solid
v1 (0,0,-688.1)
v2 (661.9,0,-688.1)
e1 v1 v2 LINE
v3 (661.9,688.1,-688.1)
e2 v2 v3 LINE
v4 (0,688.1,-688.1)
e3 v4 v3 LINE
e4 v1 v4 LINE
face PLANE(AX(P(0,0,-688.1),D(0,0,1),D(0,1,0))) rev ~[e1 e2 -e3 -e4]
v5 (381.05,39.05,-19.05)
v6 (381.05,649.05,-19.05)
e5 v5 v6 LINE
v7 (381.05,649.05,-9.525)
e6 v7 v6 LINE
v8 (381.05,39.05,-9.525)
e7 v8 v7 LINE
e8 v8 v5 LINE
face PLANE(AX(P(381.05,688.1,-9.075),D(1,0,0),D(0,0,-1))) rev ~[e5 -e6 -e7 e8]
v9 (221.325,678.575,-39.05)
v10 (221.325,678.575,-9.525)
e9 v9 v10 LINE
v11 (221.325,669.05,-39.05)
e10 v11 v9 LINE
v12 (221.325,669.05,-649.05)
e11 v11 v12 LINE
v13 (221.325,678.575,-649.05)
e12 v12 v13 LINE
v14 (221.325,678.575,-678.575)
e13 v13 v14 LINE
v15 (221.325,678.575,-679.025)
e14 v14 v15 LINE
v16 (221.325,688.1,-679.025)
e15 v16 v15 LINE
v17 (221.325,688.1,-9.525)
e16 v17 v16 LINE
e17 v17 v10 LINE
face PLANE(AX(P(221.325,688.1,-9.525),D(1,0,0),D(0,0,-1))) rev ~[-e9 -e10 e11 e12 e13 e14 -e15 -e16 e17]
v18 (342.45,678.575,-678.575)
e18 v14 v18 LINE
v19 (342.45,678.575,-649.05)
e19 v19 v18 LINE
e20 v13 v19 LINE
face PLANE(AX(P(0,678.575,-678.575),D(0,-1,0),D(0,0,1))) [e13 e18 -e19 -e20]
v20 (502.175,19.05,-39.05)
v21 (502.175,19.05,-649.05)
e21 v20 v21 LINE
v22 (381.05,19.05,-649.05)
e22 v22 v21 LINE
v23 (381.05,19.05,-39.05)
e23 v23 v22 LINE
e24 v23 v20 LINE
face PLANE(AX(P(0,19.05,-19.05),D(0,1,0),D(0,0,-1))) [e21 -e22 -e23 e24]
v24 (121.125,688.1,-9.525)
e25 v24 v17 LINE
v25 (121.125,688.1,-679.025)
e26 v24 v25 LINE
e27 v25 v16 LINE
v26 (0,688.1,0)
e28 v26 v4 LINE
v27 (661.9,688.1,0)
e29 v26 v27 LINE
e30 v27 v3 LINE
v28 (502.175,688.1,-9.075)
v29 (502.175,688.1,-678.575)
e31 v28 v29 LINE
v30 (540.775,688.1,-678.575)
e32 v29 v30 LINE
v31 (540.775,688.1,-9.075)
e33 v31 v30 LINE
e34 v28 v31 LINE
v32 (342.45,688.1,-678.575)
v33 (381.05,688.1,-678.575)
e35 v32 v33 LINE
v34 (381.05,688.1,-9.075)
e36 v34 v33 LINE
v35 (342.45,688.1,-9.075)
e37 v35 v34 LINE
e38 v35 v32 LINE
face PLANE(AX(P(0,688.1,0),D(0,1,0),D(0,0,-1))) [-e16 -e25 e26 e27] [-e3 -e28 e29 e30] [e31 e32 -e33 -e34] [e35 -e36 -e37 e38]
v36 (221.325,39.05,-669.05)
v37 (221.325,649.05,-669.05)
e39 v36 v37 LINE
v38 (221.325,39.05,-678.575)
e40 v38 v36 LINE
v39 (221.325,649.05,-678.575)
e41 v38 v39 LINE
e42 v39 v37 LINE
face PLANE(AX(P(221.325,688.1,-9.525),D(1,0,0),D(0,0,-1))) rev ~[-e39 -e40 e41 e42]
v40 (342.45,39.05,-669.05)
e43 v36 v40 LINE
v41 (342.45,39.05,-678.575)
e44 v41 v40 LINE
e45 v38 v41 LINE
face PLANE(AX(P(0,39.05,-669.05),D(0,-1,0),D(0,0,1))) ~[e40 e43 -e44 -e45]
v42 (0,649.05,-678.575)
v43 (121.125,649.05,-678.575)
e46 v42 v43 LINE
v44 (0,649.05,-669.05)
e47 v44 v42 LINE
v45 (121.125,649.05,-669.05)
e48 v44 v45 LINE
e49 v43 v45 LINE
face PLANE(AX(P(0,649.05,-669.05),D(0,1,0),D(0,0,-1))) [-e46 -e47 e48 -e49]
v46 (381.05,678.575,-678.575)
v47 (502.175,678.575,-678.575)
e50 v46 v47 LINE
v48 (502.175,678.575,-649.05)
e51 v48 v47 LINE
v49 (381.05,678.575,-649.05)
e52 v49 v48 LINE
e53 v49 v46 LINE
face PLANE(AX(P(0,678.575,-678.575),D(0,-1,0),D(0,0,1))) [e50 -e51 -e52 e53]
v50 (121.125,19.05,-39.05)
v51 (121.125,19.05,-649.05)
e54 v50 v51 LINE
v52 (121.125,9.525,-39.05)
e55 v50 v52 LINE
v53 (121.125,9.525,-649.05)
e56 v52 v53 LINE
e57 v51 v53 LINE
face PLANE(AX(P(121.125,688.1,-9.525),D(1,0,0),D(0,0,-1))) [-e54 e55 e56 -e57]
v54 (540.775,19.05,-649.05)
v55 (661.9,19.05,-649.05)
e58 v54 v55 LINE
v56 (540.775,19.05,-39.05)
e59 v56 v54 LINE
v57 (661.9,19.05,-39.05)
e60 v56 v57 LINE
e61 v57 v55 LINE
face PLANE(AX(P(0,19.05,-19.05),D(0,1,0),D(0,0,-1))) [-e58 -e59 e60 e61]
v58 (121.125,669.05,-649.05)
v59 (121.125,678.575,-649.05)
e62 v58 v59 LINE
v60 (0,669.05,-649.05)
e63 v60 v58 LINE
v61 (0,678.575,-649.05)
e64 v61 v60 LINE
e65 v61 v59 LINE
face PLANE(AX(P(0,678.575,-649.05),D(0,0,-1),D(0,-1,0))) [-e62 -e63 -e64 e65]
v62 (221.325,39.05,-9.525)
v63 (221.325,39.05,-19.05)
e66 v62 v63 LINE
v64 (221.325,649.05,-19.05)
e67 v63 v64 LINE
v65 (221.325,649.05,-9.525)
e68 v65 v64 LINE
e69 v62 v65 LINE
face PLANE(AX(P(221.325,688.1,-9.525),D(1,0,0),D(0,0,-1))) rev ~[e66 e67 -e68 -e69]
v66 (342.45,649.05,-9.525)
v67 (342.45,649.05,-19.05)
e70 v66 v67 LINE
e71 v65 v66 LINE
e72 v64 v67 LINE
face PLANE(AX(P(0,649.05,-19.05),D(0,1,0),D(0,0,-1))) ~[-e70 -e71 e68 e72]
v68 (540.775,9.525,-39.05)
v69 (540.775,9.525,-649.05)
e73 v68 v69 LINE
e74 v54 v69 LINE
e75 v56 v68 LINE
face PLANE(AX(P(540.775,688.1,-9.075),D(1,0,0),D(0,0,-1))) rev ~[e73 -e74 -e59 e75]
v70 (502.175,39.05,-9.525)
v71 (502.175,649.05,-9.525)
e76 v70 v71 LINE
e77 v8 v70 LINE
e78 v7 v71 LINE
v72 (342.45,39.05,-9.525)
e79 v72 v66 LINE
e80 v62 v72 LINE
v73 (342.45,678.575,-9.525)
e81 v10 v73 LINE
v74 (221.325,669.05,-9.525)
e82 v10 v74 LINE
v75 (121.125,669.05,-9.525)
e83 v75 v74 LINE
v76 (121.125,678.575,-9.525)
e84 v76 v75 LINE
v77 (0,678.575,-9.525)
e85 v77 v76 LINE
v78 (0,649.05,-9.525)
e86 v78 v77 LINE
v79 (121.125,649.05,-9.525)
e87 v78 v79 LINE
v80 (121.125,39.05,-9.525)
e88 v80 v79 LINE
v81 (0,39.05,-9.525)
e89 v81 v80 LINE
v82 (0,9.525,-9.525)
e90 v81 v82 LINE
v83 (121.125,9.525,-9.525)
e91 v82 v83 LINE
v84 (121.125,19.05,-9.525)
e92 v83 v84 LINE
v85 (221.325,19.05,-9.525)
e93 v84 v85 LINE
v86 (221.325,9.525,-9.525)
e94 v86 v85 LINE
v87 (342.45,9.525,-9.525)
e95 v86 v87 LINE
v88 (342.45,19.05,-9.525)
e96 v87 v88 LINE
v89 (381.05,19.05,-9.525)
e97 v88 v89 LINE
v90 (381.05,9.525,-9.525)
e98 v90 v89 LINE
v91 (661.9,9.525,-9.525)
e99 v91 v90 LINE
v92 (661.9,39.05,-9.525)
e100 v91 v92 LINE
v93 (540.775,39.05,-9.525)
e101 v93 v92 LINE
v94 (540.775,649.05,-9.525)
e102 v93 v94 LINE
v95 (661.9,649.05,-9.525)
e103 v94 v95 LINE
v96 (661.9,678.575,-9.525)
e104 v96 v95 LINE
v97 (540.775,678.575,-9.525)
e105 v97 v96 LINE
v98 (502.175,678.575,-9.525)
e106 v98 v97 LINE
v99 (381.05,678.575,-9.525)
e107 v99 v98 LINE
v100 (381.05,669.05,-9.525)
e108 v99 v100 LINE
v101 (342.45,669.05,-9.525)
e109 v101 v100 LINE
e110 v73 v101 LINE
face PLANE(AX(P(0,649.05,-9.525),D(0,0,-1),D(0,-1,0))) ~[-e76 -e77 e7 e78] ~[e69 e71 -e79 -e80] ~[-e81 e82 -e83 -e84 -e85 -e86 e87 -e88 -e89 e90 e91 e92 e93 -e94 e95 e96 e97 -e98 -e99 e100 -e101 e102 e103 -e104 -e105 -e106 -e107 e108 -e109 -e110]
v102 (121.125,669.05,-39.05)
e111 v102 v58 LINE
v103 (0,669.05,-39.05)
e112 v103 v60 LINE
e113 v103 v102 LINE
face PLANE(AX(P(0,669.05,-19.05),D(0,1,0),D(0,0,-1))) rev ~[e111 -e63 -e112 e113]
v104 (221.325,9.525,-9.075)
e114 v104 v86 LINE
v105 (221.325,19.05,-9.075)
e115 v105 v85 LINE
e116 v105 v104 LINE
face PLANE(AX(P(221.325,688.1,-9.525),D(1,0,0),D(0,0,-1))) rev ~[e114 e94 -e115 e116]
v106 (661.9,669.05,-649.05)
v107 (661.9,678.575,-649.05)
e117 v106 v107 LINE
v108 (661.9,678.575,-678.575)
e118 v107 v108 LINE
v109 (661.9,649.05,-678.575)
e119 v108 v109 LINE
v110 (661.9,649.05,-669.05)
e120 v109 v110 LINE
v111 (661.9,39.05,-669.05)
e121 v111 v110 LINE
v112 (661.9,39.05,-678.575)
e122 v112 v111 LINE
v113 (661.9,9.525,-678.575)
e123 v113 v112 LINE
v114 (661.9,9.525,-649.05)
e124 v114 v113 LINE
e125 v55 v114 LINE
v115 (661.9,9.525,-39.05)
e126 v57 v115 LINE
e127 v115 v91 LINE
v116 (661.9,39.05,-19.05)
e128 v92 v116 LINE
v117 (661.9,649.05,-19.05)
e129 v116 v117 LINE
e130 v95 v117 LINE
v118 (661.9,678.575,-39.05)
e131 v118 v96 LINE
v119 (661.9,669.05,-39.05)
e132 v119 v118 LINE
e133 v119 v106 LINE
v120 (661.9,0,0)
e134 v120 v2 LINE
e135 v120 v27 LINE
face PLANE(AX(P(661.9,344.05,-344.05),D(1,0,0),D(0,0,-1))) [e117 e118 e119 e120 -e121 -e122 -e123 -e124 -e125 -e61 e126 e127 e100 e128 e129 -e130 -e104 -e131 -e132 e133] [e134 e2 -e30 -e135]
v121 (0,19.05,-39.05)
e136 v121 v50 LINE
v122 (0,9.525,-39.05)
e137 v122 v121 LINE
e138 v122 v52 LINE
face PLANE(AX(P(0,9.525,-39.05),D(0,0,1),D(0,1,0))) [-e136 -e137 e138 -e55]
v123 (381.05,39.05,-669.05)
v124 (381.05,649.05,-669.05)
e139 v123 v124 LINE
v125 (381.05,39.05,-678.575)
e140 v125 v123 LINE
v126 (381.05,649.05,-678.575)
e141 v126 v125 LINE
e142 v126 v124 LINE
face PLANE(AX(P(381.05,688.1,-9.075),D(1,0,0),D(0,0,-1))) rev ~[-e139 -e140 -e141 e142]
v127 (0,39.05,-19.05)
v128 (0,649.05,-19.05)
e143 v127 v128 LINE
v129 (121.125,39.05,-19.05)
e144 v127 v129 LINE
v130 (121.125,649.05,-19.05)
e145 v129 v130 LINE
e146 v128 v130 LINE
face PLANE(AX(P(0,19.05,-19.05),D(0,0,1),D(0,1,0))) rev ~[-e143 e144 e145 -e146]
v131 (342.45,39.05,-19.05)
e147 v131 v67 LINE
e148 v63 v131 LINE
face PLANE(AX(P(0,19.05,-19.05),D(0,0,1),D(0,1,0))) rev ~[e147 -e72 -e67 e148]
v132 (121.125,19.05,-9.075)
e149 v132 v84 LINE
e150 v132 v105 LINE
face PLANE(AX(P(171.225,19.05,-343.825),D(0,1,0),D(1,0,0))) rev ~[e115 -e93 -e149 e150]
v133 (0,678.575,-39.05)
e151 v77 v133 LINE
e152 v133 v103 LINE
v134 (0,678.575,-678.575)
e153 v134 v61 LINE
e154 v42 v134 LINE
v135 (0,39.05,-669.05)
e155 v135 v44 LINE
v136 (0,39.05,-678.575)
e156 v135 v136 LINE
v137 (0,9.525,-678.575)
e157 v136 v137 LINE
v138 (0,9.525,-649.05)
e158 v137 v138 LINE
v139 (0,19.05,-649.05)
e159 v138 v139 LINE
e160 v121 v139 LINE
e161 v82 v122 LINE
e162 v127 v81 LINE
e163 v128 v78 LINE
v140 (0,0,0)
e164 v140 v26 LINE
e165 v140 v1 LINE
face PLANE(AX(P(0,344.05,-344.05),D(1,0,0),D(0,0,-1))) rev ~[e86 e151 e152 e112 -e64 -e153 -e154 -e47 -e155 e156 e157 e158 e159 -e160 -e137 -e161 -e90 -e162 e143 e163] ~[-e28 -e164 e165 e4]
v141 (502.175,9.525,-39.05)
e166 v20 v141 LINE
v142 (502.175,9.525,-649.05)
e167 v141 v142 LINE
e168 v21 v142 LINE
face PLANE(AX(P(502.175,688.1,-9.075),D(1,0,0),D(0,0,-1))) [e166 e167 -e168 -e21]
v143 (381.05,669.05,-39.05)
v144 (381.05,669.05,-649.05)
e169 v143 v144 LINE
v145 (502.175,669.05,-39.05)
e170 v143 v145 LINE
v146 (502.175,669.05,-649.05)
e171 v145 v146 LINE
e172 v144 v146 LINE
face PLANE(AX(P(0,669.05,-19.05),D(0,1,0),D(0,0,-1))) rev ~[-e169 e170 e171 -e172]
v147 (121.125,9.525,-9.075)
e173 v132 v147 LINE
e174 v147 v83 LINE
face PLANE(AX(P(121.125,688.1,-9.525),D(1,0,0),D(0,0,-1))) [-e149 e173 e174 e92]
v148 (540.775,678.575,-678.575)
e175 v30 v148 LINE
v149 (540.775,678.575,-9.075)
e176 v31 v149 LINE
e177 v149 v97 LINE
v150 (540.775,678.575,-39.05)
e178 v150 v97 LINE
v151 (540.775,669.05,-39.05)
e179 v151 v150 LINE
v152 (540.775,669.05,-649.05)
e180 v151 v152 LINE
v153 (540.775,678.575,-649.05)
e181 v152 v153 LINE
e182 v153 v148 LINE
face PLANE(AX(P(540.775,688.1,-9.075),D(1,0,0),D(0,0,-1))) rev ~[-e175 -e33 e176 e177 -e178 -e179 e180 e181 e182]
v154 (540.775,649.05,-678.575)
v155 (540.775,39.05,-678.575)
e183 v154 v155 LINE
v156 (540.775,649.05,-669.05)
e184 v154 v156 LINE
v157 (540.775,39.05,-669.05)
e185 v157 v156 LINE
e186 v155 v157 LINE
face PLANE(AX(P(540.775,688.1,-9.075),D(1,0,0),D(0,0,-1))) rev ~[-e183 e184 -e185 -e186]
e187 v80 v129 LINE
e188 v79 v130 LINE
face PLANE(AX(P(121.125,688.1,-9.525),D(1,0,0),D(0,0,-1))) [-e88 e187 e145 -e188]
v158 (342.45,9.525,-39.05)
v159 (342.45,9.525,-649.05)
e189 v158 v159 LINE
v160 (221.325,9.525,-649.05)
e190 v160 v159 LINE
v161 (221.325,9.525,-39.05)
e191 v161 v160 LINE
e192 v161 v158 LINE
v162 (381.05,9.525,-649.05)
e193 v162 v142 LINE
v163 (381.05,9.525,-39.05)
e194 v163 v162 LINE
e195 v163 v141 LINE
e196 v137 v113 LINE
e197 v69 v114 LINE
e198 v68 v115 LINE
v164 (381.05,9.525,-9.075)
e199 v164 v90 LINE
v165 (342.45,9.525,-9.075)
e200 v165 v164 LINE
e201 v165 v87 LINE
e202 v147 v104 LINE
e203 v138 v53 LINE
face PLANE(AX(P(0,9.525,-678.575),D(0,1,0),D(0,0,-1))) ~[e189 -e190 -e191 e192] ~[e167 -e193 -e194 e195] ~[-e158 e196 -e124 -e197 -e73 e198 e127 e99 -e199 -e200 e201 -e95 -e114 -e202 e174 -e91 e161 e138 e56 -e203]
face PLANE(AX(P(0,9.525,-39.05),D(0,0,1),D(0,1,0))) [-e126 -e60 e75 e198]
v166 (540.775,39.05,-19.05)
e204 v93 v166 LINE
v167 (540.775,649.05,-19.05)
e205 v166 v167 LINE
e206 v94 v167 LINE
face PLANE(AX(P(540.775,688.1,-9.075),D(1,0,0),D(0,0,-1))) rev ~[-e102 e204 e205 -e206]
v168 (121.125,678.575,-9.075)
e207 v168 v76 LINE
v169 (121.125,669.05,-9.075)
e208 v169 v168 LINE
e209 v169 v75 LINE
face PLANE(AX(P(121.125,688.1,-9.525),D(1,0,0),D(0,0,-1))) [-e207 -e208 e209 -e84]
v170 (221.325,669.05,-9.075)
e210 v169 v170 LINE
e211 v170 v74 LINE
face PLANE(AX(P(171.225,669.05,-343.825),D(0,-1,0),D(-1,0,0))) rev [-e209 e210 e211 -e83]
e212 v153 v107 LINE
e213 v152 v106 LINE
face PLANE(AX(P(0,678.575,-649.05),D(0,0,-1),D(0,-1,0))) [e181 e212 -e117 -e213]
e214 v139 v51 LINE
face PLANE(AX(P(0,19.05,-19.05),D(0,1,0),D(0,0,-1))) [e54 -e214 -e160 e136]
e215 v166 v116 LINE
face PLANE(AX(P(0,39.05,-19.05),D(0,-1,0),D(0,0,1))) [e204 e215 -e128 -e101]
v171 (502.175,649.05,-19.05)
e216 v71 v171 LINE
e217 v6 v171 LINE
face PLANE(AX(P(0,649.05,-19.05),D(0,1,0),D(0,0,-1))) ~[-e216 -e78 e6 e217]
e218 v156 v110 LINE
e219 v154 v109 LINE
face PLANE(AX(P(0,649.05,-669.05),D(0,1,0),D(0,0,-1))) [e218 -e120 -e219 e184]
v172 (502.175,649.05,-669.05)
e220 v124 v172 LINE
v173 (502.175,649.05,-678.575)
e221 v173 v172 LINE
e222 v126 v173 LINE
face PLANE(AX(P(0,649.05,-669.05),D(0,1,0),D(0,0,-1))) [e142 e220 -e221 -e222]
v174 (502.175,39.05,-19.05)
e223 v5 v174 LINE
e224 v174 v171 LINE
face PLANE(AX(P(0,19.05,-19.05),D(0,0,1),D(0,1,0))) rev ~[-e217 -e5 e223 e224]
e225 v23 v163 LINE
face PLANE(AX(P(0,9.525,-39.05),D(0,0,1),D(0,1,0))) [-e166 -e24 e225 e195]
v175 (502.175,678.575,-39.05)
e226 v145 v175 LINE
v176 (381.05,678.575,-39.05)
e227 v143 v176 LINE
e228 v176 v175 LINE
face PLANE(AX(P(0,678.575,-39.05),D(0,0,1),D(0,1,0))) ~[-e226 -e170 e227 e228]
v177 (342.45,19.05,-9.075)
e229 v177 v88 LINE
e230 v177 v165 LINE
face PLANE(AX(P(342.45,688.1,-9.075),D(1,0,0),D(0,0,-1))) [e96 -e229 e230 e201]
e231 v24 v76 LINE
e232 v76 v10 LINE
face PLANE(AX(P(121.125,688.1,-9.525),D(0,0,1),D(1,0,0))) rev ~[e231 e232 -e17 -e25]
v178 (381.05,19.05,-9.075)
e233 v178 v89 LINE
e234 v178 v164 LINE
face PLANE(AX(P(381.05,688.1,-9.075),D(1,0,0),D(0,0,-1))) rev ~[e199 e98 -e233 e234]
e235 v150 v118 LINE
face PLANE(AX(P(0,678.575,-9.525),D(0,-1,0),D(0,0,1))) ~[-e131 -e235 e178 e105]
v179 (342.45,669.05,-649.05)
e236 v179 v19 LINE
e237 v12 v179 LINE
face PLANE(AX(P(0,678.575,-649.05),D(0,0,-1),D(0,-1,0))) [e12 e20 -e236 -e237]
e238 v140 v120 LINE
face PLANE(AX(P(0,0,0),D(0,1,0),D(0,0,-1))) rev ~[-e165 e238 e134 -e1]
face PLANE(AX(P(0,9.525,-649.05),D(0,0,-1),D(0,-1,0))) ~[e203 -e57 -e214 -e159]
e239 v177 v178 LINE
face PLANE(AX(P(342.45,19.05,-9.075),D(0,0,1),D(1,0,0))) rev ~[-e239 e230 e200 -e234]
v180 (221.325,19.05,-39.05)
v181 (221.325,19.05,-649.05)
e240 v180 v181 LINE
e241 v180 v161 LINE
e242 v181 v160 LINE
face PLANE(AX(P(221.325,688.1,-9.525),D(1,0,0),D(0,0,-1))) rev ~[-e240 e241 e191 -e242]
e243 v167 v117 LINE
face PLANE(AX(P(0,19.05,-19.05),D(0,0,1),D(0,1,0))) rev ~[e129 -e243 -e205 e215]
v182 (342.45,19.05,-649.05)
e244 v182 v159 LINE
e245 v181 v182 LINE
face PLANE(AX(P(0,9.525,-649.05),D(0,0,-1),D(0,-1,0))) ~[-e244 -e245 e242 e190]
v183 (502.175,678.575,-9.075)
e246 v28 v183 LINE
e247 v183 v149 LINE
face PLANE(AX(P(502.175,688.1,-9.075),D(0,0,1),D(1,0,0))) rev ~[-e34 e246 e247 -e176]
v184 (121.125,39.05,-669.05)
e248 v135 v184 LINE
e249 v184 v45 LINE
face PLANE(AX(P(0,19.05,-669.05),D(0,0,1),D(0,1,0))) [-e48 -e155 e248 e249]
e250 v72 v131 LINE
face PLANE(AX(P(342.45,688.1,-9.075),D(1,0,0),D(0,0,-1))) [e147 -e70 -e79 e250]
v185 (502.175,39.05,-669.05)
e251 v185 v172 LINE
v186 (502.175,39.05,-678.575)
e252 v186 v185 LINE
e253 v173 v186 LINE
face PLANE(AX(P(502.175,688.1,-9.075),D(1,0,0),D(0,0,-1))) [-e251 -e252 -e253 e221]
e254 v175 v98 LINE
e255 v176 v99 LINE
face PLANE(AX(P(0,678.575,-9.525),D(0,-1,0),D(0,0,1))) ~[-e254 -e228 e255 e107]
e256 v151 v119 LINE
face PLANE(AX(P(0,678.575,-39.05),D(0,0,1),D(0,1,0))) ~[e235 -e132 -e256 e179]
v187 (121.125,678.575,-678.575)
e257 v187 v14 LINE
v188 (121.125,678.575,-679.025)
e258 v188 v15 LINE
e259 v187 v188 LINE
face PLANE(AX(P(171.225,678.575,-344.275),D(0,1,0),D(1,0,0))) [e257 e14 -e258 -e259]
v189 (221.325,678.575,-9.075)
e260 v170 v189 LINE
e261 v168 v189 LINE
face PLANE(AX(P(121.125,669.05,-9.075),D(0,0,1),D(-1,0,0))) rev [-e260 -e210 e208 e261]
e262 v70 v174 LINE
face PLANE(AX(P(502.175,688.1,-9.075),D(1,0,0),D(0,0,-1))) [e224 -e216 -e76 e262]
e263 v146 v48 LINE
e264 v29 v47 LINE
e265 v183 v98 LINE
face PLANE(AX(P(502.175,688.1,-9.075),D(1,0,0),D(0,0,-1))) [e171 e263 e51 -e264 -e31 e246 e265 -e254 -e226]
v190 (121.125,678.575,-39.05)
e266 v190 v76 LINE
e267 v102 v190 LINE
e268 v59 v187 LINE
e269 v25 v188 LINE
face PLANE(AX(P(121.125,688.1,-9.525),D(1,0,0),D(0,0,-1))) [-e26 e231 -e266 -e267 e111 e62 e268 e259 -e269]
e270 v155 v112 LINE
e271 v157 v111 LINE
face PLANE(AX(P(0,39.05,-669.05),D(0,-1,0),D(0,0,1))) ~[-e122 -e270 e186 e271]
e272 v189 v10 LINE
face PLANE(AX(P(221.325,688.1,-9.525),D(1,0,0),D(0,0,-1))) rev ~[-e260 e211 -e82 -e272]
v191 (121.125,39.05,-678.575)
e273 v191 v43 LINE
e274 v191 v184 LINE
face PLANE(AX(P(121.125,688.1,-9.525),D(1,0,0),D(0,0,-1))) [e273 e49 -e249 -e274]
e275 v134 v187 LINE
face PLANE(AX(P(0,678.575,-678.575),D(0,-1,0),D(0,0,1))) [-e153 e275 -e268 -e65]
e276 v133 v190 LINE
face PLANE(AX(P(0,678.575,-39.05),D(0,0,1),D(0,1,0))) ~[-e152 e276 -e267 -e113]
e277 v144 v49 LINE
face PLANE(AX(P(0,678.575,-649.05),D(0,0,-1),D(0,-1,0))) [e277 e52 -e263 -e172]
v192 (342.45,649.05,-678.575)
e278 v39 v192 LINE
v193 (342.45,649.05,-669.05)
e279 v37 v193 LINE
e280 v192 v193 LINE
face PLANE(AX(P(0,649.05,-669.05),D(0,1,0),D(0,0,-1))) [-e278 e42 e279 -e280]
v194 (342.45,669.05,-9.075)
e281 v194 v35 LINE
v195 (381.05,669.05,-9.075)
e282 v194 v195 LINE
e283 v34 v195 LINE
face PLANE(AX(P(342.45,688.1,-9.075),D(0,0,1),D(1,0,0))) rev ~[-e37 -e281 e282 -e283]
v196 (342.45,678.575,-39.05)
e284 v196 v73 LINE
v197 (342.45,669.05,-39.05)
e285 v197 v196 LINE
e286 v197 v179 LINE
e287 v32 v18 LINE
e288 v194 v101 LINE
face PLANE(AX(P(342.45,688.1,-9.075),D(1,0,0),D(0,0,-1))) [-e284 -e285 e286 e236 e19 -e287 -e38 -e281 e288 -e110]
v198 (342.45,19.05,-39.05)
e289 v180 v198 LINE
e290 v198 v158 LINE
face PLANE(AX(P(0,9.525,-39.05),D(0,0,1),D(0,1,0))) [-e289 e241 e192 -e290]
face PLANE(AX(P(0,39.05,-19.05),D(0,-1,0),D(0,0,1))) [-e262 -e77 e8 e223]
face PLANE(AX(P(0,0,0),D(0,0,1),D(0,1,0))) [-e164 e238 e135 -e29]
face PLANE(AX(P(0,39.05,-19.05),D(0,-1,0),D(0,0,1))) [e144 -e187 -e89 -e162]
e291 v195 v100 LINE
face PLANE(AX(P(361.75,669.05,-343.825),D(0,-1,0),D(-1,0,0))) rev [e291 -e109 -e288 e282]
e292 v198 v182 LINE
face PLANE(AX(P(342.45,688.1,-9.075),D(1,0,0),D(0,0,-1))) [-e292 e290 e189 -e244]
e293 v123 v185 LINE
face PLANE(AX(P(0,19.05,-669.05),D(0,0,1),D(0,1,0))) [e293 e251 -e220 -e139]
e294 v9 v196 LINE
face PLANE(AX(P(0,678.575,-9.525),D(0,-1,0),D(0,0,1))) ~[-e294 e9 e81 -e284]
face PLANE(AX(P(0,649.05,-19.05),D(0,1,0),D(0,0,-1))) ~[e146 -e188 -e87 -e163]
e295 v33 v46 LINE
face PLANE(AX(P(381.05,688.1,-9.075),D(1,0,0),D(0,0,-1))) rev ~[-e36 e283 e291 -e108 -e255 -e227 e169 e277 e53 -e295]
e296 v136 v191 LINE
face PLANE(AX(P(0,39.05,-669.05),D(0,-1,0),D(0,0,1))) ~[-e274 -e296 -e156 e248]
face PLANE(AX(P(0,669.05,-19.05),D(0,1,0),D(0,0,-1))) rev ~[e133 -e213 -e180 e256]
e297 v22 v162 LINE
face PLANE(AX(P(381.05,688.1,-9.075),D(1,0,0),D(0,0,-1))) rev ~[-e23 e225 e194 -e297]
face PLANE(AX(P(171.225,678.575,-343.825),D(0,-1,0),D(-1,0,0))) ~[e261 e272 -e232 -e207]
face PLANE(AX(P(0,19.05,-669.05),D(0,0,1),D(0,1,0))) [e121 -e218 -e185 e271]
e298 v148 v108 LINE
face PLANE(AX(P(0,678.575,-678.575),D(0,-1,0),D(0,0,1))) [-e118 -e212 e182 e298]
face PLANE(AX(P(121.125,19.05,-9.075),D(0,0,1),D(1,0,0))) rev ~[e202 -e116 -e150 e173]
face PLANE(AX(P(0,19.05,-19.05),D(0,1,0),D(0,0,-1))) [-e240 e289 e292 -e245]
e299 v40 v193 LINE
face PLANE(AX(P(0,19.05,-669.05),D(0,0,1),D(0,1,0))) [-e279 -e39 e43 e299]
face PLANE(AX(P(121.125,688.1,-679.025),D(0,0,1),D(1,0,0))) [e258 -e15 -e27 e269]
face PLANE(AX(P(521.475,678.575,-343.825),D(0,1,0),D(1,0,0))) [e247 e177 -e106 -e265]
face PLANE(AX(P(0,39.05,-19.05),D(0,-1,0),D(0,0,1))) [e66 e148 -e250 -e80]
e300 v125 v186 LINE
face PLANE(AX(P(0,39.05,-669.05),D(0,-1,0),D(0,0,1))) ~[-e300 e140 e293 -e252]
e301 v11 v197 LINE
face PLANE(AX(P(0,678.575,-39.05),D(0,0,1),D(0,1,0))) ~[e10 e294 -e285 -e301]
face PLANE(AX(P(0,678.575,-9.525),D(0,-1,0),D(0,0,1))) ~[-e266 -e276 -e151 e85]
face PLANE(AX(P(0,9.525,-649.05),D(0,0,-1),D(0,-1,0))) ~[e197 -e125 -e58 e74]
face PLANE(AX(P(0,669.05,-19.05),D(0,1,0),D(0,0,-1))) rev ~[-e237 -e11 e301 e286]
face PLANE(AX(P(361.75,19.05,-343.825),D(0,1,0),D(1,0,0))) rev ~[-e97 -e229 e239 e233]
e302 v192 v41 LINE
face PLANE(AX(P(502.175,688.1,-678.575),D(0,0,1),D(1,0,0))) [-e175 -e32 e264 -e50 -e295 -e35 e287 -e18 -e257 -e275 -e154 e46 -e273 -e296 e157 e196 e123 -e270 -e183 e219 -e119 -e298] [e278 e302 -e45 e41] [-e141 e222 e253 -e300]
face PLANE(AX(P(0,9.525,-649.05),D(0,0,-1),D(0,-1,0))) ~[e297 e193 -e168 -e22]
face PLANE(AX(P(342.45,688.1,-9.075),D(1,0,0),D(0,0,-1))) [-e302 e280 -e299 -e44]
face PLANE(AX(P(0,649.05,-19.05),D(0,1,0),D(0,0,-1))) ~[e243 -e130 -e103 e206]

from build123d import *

# Parameters (mm, degrees)
SKETCH1_W            = 688.1
SKETCH1_H            = 688.1
SKETCH1_W_2          = 650
SKETCH1_H_2          = 650
BOSS_EXTRUDE1_DEPTH  = 661.9
SKETCH3_W            = 100.2
SKETCH3_H            = 650
SKETCH3_W_2          = 38.6
CUT_EXTRUDE1_DEPTH   = 9.525
SKETCH4_W            = 100.2
SKETCH4_H            = 669.5
SKETCH4_W_2          = 38.6
SKETCH4_H_2          = 669.05
CUT_EXTRUDE3_DEPTH   = 9.525
SKETCH6_W            = 100.2
SKETCH6_H            = 669.5
SKETCH6_W_2          = 38.6
CUT_EXTRUDE4_DEPTH   = 9.525
CUT_EXTRUDE5_DEPTH   = 700
MIRROR6_COPY_1_DEPTH = 700


with BuildPart() as part:
    # Sketch1 → Boss-Extrude1 (new body)
    with BuildSketch(Plane(origin=(0, 0, 0), x_dir=(0, 0, -1), z_dir=(1, 0, 0))):
        with Locations((344.05, 344.05)):
            Rectangle(SKETCH1_W, SKETCH1_H)
        with Locations((344.05, 344.05)):
            Rectangle(SKETCH1_W_2, SKETCH1_H_2, mode=Mode.SUBTRACT)
    extrude(amount=BOSS_EXTRUDE1_DEPTH)

    # Sketch3 → Cut-Extrude1 (cut)
    with BuildSketch(Plane.XY.offset(-669.05)):
        with Locations((171.225, 344.05)):
            Rectangle(SKETCH3_W, SKETCH3_H)
        with Locations((361.75, 344.05)):
            Rectangle(SKETCH3_W_2, SKETCH3_H)
        with Locations((521.475, 344.05)):
            Rectangle(SKETCH3_W_2, SKETCH3_H)
    cut_extrude1 = extrude(amount=-CUT_EXTRUDE1_DEPTH, mode=Mode.SUBTRACT)

    # Mirror2: Cut-Extrude1 across plane
    add(cut_extrude1.mirror(Plane(origin=(0, 0, -344.05), x_dir=(1, 0, 0), z_dir=(0, 0, -1))), mode=Mode.SUBTRACT)

    # Sketch4 → Cut-Extrude3 (cut)
    with BuildSketch(Plane(origin=(0, 19.05, 0), x_dir=(1, 0, 0), z_dir=(0, 1, 0))):
        with Locations((171.225, 343.825)):
            Rectangle(SKETCH4_W, SKETCH4_H)
        with Locations((361.75, 343.825)):
            Rectangle(SKETCH4_W_2, SKETCH4_H)
        with Locations((521.475, 344.05)):
            Rectangle(SKETCH4_W_2, SKETCH4_H_2)
    cut_extrude3 = extrude(amount=-CUT_EXTRUDE3_DEPTH, mode=Mode.SUBTRACT)

    # Mirror4: Cut-Extrude3 across plane
    add(cut_extrude3.mirror(Plane.ZX.offset(344.05)), mode=Mode.SUBTRACT)

    # Sketch6 → Cut-Extrude4 (cut)
    with BuildSketch(Plane(origin=(0, 688.1, 0), x_dir=(1, 0, 0), z_dir=(0, 1, 0))):
        with Locations((171.225, 344.275)):
            Rectangle(SKETCH6_W, SKETCH6_H)
        with Locations((361.75, 343.825)):
            Rectangle(SKETCH6_W_2, SKETCH6_H)
        with Locations((521.475, 343.825)):
            Rectangle(SKETCH6_W_2, SKETCH6_H)
    extrude(amount=-CUT_EXTRUDE4_DEPTH, mode=Mode.SUBTRACT)

    # Sketch7 → Cut-Extrude5 (cut)
    with BuildSketch(Plane.ZY):
        Polygon((-19.05, 39.05), (-9.525, 39.05), (-9.525, 9.525), (-39.05, 9.525), (-39.05, 19.05), (-19.05, 19.05), align=None)
    cut_extrude5 = extrude(amount=-CUT_EXTRUDE5_DEPTH, mode=Mode.SUBTRACT)

    # Mirror5: Cut-Extrude5 across plane
    add(cut_extrude5.mirror(Plane(origin=(0, 0, -344.05), x_dir=(1, 0, 0), z_dir=(0, 0, -1))), mode=Mode.SUBTRACT)

    # Mirror6: Cut-Extrude5 across plane
    add(cut_extrude5.mirror(Plane.ZX.offset(344.05)), mode=Mode.SUBTRACT)

    # Mirror6 copy 1 sketch → Mirror6 copy 1 (cut)
    with BuildSketch(Plane(origin=(0, 688.1, -688.1), x_dir=(0, 0, -1), z_dir=(-1, 0, 0))):
        Polygon((-19.05, 39.05), (-9.525, 39.05), (-9.525, 9.525), (-39.05, 9.525), (-39.05, 19.05), (-19.05, 19.05), align=None)
    extrude(amount=-MIRROR6_COPY_1_DEPTH, mode=Mode.SUBTRACT)


solid = part.part
